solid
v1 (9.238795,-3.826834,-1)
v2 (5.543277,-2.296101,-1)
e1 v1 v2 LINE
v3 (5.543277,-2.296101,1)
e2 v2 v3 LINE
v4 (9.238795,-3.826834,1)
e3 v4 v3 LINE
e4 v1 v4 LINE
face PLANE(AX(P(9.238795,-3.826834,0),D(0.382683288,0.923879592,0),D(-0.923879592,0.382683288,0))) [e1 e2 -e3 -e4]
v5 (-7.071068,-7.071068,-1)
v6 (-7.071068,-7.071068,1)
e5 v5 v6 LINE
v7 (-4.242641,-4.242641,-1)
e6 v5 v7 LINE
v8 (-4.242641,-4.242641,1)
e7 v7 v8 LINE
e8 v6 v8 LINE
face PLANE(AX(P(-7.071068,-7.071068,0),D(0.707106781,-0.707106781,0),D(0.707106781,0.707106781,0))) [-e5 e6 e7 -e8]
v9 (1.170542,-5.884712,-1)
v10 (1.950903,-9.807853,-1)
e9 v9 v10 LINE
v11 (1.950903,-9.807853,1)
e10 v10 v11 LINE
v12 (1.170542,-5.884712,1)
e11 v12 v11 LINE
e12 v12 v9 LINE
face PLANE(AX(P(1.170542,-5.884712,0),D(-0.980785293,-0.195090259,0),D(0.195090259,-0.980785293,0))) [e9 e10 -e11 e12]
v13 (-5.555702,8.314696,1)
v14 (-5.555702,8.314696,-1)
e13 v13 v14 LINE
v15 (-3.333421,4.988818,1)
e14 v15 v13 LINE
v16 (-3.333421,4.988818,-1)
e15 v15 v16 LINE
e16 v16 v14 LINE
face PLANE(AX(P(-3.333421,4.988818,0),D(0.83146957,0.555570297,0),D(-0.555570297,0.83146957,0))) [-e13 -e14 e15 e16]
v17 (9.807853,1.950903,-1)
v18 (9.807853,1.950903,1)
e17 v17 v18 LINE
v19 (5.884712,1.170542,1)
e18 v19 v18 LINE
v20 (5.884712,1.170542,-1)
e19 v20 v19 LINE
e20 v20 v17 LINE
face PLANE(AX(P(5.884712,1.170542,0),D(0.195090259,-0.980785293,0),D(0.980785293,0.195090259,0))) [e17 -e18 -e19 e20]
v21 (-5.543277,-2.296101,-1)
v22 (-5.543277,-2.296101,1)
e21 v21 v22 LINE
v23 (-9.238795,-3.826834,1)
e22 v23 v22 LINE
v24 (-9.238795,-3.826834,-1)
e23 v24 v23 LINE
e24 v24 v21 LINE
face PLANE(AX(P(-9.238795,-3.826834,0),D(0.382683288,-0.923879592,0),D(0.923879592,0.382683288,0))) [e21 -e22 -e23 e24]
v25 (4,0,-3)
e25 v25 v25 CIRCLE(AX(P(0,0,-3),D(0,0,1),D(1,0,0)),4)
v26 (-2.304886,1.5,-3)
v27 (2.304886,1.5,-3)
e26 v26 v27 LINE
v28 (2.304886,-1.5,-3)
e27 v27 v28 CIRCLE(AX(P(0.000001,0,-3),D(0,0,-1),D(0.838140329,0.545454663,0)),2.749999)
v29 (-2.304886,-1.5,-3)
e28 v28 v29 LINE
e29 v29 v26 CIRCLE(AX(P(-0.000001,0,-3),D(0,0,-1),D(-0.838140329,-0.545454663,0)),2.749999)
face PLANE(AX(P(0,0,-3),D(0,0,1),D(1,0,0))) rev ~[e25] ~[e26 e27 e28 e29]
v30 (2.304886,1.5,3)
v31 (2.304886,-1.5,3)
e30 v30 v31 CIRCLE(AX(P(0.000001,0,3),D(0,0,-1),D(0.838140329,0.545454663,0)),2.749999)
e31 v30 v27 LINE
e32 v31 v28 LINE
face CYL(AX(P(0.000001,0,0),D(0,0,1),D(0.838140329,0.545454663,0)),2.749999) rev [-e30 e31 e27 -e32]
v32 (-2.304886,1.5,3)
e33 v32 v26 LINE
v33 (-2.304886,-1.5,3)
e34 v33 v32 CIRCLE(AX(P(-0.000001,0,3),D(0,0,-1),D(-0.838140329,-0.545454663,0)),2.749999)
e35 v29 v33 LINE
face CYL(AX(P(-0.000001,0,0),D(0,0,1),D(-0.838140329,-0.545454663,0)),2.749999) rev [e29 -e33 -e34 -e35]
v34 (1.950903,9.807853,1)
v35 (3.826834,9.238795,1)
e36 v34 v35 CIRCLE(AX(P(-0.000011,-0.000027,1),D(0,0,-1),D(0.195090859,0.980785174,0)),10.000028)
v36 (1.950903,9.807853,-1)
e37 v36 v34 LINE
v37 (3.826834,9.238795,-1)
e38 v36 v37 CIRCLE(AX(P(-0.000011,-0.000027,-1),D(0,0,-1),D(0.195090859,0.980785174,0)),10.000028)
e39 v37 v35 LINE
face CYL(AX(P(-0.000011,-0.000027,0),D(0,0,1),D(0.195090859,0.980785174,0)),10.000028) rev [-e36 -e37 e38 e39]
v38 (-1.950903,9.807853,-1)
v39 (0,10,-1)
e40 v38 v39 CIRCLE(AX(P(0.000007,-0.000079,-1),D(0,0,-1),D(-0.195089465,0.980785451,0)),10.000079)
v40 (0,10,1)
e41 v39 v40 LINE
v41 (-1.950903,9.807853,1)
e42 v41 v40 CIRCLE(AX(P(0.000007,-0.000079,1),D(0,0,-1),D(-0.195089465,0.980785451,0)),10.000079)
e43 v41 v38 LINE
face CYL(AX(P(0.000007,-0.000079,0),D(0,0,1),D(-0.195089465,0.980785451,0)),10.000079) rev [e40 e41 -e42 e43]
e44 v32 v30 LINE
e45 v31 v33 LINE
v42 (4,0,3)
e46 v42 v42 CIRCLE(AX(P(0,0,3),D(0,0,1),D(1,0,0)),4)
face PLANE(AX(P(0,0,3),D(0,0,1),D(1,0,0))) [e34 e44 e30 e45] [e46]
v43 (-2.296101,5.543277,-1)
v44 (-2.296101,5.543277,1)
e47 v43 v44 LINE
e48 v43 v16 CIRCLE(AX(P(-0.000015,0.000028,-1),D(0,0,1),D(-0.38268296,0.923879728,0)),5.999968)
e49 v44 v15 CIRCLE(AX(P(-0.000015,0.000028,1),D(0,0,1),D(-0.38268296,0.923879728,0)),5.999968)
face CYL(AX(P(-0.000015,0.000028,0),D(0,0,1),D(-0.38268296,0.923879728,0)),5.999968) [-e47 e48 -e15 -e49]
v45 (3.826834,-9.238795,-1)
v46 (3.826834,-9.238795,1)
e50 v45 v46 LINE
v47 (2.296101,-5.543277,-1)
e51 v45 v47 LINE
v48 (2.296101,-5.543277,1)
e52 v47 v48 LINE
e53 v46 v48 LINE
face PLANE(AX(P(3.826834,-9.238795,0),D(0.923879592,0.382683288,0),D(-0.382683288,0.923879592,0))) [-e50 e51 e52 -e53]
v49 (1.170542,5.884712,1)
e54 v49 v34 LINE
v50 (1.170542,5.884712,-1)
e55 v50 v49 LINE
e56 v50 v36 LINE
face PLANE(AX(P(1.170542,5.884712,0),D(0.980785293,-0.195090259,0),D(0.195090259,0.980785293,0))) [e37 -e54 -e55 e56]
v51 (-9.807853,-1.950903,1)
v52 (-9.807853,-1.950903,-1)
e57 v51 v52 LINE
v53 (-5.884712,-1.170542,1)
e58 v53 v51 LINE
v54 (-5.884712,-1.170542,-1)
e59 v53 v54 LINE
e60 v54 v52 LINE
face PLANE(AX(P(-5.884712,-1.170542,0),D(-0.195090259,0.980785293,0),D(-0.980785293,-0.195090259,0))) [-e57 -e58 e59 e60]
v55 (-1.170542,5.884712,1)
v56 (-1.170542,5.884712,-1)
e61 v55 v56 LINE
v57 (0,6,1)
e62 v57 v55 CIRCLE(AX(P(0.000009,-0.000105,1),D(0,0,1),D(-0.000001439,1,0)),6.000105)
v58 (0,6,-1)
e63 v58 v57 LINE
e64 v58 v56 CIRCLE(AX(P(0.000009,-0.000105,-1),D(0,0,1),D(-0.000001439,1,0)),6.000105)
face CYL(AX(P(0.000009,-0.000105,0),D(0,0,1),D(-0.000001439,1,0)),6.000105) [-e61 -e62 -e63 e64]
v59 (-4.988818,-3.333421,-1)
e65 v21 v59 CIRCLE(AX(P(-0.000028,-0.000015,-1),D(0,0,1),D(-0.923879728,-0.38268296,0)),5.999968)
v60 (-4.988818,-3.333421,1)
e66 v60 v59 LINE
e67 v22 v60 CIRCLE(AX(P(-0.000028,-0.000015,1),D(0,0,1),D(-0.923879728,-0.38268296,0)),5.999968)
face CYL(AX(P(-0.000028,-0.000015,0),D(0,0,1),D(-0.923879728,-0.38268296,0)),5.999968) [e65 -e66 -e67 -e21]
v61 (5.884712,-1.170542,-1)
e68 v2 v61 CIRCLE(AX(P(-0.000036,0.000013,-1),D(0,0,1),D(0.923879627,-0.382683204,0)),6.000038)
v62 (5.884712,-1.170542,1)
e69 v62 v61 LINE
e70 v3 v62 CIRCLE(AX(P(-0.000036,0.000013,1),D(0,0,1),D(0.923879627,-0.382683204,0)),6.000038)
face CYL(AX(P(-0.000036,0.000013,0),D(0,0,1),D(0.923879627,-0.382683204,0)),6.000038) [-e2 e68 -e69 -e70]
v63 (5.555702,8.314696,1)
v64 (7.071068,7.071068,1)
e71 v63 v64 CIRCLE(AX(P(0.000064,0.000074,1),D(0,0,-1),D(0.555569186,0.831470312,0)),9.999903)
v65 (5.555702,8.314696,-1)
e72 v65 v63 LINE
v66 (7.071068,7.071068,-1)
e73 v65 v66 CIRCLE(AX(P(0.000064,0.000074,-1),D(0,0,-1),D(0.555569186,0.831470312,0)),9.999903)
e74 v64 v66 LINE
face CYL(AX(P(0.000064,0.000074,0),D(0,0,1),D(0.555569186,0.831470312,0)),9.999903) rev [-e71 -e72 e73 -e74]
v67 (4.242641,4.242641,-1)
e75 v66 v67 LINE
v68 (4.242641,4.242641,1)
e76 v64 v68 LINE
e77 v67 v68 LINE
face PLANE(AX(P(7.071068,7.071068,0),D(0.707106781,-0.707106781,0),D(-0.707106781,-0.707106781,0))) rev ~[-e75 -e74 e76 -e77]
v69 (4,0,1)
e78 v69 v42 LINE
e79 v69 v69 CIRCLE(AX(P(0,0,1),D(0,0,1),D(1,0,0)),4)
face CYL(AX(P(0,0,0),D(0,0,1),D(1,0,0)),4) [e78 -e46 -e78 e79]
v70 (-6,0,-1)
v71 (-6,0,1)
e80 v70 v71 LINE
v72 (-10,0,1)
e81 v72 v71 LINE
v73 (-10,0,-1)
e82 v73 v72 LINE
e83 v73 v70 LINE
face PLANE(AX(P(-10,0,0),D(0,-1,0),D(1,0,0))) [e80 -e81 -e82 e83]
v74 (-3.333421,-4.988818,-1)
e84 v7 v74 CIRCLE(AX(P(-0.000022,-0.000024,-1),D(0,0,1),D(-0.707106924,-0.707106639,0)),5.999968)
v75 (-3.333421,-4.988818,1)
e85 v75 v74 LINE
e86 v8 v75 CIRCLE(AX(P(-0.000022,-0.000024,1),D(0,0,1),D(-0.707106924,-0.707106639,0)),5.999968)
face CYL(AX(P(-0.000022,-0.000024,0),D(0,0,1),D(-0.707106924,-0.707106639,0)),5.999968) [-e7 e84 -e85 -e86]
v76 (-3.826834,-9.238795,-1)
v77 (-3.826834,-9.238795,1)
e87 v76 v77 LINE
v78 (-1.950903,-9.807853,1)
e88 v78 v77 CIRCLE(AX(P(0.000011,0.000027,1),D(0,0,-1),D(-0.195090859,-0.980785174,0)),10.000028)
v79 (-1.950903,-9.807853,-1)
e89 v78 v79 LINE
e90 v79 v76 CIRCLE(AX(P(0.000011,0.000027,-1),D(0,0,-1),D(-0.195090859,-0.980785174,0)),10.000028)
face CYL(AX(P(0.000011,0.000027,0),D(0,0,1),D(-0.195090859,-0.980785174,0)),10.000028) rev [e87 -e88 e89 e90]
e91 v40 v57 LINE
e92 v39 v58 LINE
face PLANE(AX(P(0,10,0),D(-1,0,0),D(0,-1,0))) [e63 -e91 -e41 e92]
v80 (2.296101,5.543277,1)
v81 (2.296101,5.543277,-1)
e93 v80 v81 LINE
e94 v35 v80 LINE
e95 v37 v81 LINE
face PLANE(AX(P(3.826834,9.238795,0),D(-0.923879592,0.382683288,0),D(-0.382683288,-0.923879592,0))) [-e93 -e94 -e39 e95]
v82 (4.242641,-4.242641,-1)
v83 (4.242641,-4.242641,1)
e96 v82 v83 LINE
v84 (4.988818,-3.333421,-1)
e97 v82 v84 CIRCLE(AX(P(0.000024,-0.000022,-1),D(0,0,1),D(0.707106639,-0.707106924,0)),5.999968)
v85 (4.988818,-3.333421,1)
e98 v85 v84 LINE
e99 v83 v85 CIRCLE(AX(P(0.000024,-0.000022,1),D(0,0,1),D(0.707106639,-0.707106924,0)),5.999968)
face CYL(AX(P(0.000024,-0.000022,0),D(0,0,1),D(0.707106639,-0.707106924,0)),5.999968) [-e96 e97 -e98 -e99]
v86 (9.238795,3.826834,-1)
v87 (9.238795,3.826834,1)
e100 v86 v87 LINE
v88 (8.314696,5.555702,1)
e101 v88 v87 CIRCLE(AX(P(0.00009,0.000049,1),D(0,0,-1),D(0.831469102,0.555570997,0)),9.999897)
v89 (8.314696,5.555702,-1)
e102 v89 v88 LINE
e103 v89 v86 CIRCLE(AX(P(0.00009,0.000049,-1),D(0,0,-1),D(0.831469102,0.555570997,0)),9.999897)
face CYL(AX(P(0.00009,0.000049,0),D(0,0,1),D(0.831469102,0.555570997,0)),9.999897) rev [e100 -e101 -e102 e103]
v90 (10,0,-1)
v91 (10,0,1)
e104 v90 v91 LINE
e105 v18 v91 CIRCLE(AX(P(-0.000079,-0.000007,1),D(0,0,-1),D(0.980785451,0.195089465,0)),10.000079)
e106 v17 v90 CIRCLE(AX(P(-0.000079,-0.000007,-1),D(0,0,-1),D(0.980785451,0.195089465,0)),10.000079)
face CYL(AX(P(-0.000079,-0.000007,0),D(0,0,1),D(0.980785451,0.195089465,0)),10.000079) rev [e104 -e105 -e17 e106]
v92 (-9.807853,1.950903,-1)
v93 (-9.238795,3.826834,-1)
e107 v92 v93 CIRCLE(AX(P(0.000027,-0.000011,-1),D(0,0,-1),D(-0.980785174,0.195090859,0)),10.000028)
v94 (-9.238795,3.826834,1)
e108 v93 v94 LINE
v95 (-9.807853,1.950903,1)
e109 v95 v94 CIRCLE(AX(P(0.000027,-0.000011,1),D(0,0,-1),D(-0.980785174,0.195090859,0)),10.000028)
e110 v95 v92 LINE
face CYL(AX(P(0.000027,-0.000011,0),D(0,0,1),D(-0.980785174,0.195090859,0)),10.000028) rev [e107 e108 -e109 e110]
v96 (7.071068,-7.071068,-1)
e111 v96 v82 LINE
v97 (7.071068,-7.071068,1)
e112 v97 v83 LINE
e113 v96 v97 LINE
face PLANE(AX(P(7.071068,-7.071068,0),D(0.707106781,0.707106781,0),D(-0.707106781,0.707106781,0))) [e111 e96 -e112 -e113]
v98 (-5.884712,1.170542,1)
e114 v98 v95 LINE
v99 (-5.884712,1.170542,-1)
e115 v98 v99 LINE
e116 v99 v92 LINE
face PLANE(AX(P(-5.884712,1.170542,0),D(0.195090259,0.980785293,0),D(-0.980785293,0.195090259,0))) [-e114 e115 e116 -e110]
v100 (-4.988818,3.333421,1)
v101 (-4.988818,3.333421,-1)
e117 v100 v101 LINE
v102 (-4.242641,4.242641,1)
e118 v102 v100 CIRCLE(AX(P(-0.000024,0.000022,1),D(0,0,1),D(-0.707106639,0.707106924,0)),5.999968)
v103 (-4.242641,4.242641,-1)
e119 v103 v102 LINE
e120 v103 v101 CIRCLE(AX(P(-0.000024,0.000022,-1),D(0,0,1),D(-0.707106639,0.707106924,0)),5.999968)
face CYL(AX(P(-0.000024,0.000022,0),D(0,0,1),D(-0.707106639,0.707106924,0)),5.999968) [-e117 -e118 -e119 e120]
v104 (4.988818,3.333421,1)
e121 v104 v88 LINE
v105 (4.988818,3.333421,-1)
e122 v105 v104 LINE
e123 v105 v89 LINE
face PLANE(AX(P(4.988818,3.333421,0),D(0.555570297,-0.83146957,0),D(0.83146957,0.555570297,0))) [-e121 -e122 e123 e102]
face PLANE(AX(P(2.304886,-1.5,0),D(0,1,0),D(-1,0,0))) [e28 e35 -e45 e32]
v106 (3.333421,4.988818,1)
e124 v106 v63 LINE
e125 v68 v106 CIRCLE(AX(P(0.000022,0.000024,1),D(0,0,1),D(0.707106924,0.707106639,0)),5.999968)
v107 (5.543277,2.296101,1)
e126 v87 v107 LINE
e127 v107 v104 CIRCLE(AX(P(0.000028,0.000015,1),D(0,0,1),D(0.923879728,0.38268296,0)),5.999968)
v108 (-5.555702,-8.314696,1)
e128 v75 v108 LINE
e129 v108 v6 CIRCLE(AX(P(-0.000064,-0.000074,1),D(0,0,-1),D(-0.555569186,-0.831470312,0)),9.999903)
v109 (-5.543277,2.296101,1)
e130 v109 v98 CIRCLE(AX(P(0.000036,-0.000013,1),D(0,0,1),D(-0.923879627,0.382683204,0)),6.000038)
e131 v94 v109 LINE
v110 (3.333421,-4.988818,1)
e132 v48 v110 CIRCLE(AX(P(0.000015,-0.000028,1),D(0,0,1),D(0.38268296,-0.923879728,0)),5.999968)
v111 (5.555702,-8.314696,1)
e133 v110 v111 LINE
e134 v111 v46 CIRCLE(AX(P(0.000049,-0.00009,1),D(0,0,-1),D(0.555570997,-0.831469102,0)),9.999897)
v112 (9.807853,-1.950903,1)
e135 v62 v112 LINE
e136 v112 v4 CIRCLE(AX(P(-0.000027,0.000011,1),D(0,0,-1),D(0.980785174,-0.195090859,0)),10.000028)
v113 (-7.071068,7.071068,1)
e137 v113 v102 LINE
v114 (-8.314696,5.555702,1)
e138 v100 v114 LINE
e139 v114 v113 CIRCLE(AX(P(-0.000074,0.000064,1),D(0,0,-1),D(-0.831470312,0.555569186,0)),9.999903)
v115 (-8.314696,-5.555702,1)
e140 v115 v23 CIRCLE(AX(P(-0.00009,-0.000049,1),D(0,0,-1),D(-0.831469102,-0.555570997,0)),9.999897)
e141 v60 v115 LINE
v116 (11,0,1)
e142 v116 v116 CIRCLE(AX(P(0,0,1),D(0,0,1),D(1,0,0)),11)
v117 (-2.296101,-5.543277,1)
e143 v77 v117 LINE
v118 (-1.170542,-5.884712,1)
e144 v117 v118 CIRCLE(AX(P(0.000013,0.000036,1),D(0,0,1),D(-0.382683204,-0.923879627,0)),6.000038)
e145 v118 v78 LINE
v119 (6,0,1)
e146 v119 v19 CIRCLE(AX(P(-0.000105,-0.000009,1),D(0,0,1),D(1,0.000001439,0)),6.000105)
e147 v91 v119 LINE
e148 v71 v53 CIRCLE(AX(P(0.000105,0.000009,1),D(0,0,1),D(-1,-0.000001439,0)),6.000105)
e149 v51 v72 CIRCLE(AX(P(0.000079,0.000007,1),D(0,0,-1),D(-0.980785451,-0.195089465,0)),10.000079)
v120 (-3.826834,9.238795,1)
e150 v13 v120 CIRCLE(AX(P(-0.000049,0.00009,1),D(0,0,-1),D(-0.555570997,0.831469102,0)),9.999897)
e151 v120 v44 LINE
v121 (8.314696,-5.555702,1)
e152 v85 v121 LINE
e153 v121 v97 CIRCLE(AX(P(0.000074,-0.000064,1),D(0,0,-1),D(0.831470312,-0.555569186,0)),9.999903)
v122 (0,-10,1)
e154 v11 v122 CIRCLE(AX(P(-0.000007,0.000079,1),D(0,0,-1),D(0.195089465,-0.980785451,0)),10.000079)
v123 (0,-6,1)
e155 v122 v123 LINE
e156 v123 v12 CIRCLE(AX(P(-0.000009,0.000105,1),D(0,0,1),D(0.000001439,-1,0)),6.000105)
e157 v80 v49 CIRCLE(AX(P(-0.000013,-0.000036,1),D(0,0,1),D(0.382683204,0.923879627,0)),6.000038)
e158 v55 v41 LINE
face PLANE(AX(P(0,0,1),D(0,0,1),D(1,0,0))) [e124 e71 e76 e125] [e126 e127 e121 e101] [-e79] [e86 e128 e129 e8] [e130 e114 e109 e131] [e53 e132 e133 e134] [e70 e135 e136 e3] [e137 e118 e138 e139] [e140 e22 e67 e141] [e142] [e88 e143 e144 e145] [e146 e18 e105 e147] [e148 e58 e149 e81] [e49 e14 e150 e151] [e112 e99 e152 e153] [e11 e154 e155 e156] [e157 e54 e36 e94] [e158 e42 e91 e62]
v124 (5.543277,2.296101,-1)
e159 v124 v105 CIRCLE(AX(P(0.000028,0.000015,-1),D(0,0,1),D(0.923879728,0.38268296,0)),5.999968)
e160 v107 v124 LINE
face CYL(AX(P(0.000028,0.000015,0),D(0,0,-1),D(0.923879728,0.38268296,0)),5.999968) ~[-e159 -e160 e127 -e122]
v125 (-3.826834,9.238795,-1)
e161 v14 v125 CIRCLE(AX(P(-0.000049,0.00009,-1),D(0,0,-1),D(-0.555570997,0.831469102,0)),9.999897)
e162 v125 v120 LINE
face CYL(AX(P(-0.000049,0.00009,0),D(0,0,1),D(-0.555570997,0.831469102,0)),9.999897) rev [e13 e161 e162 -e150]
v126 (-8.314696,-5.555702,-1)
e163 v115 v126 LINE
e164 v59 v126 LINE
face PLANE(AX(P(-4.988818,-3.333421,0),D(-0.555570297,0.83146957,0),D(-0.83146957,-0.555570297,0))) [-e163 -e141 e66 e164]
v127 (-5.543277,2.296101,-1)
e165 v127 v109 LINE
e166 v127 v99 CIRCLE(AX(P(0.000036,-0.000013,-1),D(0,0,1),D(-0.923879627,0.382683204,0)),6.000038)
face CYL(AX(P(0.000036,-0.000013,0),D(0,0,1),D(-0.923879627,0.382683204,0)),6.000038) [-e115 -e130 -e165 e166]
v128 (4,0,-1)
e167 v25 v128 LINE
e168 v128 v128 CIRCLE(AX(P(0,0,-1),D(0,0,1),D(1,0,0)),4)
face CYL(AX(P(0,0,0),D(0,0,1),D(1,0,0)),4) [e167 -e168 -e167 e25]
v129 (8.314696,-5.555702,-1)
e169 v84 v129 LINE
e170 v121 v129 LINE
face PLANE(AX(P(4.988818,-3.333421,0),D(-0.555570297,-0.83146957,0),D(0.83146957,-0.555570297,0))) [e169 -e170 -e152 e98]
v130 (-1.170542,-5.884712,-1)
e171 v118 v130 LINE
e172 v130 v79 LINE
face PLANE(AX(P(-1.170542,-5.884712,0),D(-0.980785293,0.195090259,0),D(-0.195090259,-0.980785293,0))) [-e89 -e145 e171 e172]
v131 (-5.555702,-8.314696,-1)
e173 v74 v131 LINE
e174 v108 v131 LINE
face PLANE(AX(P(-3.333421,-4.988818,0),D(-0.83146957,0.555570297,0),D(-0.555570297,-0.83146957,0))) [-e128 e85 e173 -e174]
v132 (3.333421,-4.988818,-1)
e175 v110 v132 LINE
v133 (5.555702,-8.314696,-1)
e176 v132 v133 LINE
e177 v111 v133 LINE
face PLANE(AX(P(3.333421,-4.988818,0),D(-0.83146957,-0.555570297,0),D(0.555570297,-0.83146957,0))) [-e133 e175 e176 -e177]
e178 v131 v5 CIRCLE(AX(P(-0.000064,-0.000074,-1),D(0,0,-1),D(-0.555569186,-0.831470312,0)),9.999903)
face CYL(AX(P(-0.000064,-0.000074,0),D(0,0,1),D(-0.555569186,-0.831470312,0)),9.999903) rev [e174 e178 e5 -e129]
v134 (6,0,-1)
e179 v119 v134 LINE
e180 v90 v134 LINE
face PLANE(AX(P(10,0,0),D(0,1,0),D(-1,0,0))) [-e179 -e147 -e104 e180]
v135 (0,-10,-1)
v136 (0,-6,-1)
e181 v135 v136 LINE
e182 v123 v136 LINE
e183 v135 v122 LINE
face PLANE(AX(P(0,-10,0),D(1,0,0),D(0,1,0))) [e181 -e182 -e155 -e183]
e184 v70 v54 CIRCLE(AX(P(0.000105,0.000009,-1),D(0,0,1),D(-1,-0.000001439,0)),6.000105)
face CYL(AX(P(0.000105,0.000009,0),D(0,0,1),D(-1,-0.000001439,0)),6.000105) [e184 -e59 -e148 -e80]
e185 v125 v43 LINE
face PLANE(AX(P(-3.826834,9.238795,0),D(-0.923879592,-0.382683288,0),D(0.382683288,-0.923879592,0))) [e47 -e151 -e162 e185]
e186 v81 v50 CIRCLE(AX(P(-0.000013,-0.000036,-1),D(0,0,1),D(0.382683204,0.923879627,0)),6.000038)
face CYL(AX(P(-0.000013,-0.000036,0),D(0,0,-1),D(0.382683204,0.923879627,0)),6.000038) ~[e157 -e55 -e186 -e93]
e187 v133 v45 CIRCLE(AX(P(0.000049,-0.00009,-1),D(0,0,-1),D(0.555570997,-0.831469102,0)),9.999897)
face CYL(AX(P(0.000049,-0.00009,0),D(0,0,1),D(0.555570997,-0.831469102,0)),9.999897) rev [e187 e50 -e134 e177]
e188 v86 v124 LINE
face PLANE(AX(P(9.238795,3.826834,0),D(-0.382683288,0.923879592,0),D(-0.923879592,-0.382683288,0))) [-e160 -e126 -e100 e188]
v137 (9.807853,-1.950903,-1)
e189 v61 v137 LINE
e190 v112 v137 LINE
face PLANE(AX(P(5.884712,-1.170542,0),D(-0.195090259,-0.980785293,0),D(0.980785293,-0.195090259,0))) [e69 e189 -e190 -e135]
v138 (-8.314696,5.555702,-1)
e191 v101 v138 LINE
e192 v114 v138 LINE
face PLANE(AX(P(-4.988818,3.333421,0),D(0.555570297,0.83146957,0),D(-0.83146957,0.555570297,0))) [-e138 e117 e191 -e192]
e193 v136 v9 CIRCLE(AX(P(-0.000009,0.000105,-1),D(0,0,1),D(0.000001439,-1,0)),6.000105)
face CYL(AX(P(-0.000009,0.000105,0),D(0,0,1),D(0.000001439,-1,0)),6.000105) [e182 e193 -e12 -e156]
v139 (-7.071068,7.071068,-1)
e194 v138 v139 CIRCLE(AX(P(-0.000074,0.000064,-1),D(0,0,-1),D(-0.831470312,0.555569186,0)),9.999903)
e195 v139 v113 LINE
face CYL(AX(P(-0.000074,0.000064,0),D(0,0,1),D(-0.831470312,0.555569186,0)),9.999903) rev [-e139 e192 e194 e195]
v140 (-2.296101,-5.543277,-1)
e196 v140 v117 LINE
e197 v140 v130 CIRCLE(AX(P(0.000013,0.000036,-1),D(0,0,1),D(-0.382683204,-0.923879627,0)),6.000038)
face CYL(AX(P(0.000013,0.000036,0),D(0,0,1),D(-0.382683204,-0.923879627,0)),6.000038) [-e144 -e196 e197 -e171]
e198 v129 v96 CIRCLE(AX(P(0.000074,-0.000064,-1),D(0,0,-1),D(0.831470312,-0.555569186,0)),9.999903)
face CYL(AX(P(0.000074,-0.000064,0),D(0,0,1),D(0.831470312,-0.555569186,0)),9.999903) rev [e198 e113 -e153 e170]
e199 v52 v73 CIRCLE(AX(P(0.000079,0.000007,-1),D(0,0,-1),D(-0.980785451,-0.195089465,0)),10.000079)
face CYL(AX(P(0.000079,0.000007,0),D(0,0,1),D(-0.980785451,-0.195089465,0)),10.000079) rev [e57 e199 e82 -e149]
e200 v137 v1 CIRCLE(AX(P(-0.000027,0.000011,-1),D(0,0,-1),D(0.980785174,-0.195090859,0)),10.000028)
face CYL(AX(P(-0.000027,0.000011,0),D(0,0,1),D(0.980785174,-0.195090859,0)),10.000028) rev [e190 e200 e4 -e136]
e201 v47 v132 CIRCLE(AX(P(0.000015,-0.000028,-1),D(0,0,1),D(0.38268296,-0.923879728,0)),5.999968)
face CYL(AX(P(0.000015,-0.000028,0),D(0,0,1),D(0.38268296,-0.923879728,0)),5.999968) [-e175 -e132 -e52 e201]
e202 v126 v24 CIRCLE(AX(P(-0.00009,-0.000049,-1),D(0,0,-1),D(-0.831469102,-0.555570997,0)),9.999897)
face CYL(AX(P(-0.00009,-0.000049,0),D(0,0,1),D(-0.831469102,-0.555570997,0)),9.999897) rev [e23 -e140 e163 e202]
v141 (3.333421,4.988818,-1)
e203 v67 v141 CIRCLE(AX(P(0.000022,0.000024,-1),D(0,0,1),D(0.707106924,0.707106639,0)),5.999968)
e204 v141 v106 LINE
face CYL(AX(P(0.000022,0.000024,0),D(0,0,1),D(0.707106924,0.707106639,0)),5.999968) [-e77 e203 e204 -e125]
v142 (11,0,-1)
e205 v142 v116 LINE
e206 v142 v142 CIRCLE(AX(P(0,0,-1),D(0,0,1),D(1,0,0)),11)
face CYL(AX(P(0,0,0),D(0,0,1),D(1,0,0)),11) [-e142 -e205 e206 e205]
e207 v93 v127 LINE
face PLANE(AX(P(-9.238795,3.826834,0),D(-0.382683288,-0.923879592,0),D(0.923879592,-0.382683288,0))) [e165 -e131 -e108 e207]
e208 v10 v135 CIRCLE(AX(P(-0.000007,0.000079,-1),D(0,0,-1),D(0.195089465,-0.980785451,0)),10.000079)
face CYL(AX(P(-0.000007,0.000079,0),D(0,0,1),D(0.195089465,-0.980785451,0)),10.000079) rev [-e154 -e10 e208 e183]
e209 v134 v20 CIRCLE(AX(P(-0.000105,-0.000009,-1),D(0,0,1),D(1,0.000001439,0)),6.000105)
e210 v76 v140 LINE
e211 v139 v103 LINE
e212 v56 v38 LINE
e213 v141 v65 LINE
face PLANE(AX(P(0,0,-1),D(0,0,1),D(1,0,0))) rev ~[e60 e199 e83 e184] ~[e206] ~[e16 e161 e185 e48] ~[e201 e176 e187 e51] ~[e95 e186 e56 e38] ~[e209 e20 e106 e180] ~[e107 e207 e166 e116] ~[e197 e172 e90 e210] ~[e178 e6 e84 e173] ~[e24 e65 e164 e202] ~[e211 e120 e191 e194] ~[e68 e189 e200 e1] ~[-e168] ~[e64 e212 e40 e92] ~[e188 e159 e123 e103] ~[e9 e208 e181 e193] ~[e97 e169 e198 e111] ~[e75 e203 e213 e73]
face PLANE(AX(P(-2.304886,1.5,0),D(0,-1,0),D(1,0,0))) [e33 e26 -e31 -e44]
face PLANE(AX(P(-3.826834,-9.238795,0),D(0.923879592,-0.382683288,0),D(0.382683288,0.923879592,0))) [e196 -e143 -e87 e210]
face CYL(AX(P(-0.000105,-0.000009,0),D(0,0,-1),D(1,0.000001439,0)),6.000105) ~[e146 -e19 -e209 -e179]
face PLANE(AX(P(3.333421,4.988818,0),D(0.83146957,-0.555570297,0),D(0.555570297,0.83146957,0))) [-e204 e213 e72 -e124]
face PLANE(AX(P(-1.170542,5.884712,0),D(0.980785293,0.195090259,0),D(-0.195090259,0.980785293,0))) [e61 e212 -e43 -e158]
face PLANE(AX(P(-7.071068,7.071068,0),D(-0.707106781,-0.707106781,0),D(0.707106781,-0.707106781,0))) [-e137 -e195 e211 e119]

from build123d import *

# Parameters (mm, degrees)
F0_R     = 4
F1_DEPTH = 3
F0_R_2   = 11
F2_DEPTH = 1


with BuildPart() as f1:
    # F0 (on Top) → F1 (new body, symmetric)
    with BuildSketch(Plane.XY):
        Circle(F0_R)
        with BuildLine():
            ThreePointArc((-2.304886, -1.5), (-2.75, 0), (-2.304886, 1.5))
            Line((-2.304886, 1.5), (2.304886, 1.5))
            ThreePointArc((2.304886, 1.5), (2.75, 0), (2.304886, -1.5))
            Line((2.304886, -1.5), (-2.304886, -1.5))
        make_face(mode=Mode.SUBTRACT)
    extrude(amount=F1_DEPTH, both=True)

    # F0 (on Top) → F2 (join, symmetric)
    with BuildSketch(Plane.XY):
        Circle(F0_R_2)
        with BuildLine():
            Line((-7.071068, -7.071068), (-4.242641, -4.242641))
            ThreePointArc((-4.242641, -4.242641), (-3.80636, -4.638063), (-3.333421, -4.988818))
            Line((-3.333421, -4.988818), (-5.555702, -8.314696))
            ThreePointArc((-5.555702, -8.314696), (-6.343933, -7.730105), (-7.071068, -7.071068))
        make_face(mode=Mode.SUBTRACT)
        with BuildLine():
            Line((-3.826834, -9.238795), (-2.296101, -5.543277))
            ThreePointArc((-2.296101, -5.543277), (-1.741708, -5.741642), (-1.170542, -5.884712))
            Line((-1.170542, -5.884712), (-1.950903, -9.807853))
            ThreePointArc((-1.950903, -9.807853), (-2.902847, -9.569403), (-3.826834, -9.238795))
        make_face(mode=Mode.SUBTRACT)
        with BuildLine():
            Line((-9.238795, -3.826834), (-5.543277, -2.296101))
            ThreePointArc((-5.543277, -2.296101), (-5.291528, -2.82838), (-4.988818, -3.333421))
            Line((-4.988818, -3.333421), (-8.314696, -5.555702))
            ThreePointArc((-8.314696, -5.555702), (-8.819213, -4.713967), (-9.238795, -3.826834))
        make_face(mode=Mode.SUBTRACT)
        with BuildLine():
            Line((-10, 0), (-6, 0))
            ThreePointArc((-6, 0), (-5.971108, -0.588103), (-5.884712, -1.170542))
            Line((-5.884712, -1.170542), (-9.807853, -1.950903))
            ThreePointArc((-9.807853, -1.950903), (-9.951847, -0.980171), (-10, 0))
        make_face(mode=Mode.SUBTRACT)
        with BuildLine():
            ThreePointArc((1.950903, -9.807853), (0.980171, -9.951847), (0, -10))
            Line((0, -10), (0, -6))
            ThreePointArc((0, -6), (0.588103, -5.971108), (1.170542, -5.884712))
            Line((1.170542, -5.884712), (1.950903, -9.807853))
        make_face(mode=Mode.SUBTRACT)
        with BuildLine():
            Line((3.826834, -9.238795), (2.296101, -5.543277))
            ThreePointArc((2.296101, -5.543277), (2.82838, -5.291528), (3.333421, -4.988818))
            Line((3.333421, -4.988818), (5.555702, -8.314696))
            ThreePointArc((5.555702, -8.314696), (4.713967, -8.819213), (3.826834, -9.238795))
        make_face(mode=Mode.SUBTRACT)
        with BuildLine():
            Line((7.071068, -7.071068), (4.242641, -4.242641))
            ThreePointArc((4.242641, -4.242641), (4.638063, -3.80636), (4.988818, -3.333421))
            Line((4.988818, -3.333421), (8.314696, -5.555702))
            ThreePointArc((8.314696, -5.555702), (7.730105, -6.343933), (7.071068, -7.071068))
        make_face(mode=Mode.SUBTRACT)
        with BuildLine():
            Line((9.238795, -3.826834), (5.543277, -2.296101))
            ThreePointArc((5.543277, -2.296101), (5.741642, -1.741708), (5.884712, -1.170542))
            Line((5.884712, -1.170542), (9.807853, -1.950903))
            ThreePointArc((9.807853, -1.950903), (9.569403, -2.902847), (9.238795, -3.826834))
        make_face(mode=Mode.SUBTRACT)
        with BuildLine():
            Line((-9.238795, 3.826834), (-5.543277, 2.296101))
            ThreePointArc((-5.543277, 2.296101), (-5.741642, 1.741708), (-5.884712, 1.170542))
            Line((-5.884712, 1.170542), (-9.807853, 1.950903))
            ThreePointArc((-9.807853, 1.950903), (-9.569403, 2.902847), (-9.238795, 3.826834))
        make_face(mode=Mode.SUBTRACT)
        with BuildLine():
            Line((-7.071068, 7.071068), (-4.242641, 4.242641))
            ThreePointArc((-4.242641, 4.242641), (-4.638063, 3.80636), (-4.988818, 3.333421))
            Line((-4.988818, 3.333421), (-8.314696, 5.555702))
            ThreePointArc((-8.314696, 5.555702), (-7.730105, 6.343933), (-7.071068, 7.071068))
        make_face(mode=Mode.SUBTRACT)
        with BuildLine():
            Line((-3.826834, 9.238795), (-2.296101, 5.543277))
            ThreePointArc((-2.296101, 5.543277), (-2.82838, 5.291528), (-3.333421, 4.988818))
            Line((-3.333421, 4.988818), (-5.555702, 8.314696))
            ThreePointArc((-5.555702, 8.314696), (-4.713967, 8.819213), (-3.826834, 9.238795))
        make_face(mode=Mode.SUBTRACT)
        with BuildLine():
            Line((0, 10), (0, 6))
            ThreePointArc((0, 6), (-0.588103, 5.971108), (-1.170542, 5.884712))
            Line((-1.170542, 5.884712), (-1.950903, 9.807853))
            ThreePointArc((-1.950903, 9.807853), (-0.980171, 9.951847), (0, 10))
        make_face(mode=Mode.SUBTRACT)
        Circle(F0_R, mode=Mode.SUBTRACT)
        with BuildLine():
            Line((10, 0), (6, 0))
            ThreePointArc((6, 0), (5.971108, 0.588103), (5.884712, 1.170542))
            Line((5.884712, 1.170542), (9.807853, 1.950903))
            ThreePointArc((9.807853, 1.950903), (9.951847, 0.980171), (10, 0))
        make_face(mode=Mode.SUBTRACT)
        with BuildLine():
            Line((9.238795, 3.826834), (5.543277, 2.296101))
            ThreePointArc((5.543277, 2.296101), (5.291528, 2.82838), (4.988818, 3.333421))
            Line((4.988818, 3.333421), (8.314696, 5.555702))
            ThreePointArc((8.314696, 5.555702), (8.819213, 4.713967), (9.238795, 3.826834))
        make_face(mode=Mode.SUBTRACT)
        with BuildLine():
            Line((3.826834, 9.238795), (2.296101, 5.543277))
            ThreePointArc((2.296101, 5.543277), (1.741708, 5.741642), (1.170542, 5.884712))
            Line((1.170542, 5.884712), (1.950903, 9.807853))
            ThreePointArc((1.950903, 9.807853), (2.902847, 9.569403), (3.826834, 9.238795))
        make_face(mode=Mode.SUBTRACT)
        with BuildLine():
            Line((7.071068, 7.071068), (4.242641, 4.242641))
            ThreePointArc((4.242641, 4.242641), (3.80636, 4.638063), (3.333421, 4.988818))
            Line((3.333421, 4.988818), (5.555702, 8.314696))
            ThreePointArc((5.555702, 8.314696), (6.343933, 7.730105), (7.071068, 7.071068))
        make_face(mode=Mode.SUBTRACT)
    extrude(amount=F2_DEPTH, both=True)


solid = f1.part
